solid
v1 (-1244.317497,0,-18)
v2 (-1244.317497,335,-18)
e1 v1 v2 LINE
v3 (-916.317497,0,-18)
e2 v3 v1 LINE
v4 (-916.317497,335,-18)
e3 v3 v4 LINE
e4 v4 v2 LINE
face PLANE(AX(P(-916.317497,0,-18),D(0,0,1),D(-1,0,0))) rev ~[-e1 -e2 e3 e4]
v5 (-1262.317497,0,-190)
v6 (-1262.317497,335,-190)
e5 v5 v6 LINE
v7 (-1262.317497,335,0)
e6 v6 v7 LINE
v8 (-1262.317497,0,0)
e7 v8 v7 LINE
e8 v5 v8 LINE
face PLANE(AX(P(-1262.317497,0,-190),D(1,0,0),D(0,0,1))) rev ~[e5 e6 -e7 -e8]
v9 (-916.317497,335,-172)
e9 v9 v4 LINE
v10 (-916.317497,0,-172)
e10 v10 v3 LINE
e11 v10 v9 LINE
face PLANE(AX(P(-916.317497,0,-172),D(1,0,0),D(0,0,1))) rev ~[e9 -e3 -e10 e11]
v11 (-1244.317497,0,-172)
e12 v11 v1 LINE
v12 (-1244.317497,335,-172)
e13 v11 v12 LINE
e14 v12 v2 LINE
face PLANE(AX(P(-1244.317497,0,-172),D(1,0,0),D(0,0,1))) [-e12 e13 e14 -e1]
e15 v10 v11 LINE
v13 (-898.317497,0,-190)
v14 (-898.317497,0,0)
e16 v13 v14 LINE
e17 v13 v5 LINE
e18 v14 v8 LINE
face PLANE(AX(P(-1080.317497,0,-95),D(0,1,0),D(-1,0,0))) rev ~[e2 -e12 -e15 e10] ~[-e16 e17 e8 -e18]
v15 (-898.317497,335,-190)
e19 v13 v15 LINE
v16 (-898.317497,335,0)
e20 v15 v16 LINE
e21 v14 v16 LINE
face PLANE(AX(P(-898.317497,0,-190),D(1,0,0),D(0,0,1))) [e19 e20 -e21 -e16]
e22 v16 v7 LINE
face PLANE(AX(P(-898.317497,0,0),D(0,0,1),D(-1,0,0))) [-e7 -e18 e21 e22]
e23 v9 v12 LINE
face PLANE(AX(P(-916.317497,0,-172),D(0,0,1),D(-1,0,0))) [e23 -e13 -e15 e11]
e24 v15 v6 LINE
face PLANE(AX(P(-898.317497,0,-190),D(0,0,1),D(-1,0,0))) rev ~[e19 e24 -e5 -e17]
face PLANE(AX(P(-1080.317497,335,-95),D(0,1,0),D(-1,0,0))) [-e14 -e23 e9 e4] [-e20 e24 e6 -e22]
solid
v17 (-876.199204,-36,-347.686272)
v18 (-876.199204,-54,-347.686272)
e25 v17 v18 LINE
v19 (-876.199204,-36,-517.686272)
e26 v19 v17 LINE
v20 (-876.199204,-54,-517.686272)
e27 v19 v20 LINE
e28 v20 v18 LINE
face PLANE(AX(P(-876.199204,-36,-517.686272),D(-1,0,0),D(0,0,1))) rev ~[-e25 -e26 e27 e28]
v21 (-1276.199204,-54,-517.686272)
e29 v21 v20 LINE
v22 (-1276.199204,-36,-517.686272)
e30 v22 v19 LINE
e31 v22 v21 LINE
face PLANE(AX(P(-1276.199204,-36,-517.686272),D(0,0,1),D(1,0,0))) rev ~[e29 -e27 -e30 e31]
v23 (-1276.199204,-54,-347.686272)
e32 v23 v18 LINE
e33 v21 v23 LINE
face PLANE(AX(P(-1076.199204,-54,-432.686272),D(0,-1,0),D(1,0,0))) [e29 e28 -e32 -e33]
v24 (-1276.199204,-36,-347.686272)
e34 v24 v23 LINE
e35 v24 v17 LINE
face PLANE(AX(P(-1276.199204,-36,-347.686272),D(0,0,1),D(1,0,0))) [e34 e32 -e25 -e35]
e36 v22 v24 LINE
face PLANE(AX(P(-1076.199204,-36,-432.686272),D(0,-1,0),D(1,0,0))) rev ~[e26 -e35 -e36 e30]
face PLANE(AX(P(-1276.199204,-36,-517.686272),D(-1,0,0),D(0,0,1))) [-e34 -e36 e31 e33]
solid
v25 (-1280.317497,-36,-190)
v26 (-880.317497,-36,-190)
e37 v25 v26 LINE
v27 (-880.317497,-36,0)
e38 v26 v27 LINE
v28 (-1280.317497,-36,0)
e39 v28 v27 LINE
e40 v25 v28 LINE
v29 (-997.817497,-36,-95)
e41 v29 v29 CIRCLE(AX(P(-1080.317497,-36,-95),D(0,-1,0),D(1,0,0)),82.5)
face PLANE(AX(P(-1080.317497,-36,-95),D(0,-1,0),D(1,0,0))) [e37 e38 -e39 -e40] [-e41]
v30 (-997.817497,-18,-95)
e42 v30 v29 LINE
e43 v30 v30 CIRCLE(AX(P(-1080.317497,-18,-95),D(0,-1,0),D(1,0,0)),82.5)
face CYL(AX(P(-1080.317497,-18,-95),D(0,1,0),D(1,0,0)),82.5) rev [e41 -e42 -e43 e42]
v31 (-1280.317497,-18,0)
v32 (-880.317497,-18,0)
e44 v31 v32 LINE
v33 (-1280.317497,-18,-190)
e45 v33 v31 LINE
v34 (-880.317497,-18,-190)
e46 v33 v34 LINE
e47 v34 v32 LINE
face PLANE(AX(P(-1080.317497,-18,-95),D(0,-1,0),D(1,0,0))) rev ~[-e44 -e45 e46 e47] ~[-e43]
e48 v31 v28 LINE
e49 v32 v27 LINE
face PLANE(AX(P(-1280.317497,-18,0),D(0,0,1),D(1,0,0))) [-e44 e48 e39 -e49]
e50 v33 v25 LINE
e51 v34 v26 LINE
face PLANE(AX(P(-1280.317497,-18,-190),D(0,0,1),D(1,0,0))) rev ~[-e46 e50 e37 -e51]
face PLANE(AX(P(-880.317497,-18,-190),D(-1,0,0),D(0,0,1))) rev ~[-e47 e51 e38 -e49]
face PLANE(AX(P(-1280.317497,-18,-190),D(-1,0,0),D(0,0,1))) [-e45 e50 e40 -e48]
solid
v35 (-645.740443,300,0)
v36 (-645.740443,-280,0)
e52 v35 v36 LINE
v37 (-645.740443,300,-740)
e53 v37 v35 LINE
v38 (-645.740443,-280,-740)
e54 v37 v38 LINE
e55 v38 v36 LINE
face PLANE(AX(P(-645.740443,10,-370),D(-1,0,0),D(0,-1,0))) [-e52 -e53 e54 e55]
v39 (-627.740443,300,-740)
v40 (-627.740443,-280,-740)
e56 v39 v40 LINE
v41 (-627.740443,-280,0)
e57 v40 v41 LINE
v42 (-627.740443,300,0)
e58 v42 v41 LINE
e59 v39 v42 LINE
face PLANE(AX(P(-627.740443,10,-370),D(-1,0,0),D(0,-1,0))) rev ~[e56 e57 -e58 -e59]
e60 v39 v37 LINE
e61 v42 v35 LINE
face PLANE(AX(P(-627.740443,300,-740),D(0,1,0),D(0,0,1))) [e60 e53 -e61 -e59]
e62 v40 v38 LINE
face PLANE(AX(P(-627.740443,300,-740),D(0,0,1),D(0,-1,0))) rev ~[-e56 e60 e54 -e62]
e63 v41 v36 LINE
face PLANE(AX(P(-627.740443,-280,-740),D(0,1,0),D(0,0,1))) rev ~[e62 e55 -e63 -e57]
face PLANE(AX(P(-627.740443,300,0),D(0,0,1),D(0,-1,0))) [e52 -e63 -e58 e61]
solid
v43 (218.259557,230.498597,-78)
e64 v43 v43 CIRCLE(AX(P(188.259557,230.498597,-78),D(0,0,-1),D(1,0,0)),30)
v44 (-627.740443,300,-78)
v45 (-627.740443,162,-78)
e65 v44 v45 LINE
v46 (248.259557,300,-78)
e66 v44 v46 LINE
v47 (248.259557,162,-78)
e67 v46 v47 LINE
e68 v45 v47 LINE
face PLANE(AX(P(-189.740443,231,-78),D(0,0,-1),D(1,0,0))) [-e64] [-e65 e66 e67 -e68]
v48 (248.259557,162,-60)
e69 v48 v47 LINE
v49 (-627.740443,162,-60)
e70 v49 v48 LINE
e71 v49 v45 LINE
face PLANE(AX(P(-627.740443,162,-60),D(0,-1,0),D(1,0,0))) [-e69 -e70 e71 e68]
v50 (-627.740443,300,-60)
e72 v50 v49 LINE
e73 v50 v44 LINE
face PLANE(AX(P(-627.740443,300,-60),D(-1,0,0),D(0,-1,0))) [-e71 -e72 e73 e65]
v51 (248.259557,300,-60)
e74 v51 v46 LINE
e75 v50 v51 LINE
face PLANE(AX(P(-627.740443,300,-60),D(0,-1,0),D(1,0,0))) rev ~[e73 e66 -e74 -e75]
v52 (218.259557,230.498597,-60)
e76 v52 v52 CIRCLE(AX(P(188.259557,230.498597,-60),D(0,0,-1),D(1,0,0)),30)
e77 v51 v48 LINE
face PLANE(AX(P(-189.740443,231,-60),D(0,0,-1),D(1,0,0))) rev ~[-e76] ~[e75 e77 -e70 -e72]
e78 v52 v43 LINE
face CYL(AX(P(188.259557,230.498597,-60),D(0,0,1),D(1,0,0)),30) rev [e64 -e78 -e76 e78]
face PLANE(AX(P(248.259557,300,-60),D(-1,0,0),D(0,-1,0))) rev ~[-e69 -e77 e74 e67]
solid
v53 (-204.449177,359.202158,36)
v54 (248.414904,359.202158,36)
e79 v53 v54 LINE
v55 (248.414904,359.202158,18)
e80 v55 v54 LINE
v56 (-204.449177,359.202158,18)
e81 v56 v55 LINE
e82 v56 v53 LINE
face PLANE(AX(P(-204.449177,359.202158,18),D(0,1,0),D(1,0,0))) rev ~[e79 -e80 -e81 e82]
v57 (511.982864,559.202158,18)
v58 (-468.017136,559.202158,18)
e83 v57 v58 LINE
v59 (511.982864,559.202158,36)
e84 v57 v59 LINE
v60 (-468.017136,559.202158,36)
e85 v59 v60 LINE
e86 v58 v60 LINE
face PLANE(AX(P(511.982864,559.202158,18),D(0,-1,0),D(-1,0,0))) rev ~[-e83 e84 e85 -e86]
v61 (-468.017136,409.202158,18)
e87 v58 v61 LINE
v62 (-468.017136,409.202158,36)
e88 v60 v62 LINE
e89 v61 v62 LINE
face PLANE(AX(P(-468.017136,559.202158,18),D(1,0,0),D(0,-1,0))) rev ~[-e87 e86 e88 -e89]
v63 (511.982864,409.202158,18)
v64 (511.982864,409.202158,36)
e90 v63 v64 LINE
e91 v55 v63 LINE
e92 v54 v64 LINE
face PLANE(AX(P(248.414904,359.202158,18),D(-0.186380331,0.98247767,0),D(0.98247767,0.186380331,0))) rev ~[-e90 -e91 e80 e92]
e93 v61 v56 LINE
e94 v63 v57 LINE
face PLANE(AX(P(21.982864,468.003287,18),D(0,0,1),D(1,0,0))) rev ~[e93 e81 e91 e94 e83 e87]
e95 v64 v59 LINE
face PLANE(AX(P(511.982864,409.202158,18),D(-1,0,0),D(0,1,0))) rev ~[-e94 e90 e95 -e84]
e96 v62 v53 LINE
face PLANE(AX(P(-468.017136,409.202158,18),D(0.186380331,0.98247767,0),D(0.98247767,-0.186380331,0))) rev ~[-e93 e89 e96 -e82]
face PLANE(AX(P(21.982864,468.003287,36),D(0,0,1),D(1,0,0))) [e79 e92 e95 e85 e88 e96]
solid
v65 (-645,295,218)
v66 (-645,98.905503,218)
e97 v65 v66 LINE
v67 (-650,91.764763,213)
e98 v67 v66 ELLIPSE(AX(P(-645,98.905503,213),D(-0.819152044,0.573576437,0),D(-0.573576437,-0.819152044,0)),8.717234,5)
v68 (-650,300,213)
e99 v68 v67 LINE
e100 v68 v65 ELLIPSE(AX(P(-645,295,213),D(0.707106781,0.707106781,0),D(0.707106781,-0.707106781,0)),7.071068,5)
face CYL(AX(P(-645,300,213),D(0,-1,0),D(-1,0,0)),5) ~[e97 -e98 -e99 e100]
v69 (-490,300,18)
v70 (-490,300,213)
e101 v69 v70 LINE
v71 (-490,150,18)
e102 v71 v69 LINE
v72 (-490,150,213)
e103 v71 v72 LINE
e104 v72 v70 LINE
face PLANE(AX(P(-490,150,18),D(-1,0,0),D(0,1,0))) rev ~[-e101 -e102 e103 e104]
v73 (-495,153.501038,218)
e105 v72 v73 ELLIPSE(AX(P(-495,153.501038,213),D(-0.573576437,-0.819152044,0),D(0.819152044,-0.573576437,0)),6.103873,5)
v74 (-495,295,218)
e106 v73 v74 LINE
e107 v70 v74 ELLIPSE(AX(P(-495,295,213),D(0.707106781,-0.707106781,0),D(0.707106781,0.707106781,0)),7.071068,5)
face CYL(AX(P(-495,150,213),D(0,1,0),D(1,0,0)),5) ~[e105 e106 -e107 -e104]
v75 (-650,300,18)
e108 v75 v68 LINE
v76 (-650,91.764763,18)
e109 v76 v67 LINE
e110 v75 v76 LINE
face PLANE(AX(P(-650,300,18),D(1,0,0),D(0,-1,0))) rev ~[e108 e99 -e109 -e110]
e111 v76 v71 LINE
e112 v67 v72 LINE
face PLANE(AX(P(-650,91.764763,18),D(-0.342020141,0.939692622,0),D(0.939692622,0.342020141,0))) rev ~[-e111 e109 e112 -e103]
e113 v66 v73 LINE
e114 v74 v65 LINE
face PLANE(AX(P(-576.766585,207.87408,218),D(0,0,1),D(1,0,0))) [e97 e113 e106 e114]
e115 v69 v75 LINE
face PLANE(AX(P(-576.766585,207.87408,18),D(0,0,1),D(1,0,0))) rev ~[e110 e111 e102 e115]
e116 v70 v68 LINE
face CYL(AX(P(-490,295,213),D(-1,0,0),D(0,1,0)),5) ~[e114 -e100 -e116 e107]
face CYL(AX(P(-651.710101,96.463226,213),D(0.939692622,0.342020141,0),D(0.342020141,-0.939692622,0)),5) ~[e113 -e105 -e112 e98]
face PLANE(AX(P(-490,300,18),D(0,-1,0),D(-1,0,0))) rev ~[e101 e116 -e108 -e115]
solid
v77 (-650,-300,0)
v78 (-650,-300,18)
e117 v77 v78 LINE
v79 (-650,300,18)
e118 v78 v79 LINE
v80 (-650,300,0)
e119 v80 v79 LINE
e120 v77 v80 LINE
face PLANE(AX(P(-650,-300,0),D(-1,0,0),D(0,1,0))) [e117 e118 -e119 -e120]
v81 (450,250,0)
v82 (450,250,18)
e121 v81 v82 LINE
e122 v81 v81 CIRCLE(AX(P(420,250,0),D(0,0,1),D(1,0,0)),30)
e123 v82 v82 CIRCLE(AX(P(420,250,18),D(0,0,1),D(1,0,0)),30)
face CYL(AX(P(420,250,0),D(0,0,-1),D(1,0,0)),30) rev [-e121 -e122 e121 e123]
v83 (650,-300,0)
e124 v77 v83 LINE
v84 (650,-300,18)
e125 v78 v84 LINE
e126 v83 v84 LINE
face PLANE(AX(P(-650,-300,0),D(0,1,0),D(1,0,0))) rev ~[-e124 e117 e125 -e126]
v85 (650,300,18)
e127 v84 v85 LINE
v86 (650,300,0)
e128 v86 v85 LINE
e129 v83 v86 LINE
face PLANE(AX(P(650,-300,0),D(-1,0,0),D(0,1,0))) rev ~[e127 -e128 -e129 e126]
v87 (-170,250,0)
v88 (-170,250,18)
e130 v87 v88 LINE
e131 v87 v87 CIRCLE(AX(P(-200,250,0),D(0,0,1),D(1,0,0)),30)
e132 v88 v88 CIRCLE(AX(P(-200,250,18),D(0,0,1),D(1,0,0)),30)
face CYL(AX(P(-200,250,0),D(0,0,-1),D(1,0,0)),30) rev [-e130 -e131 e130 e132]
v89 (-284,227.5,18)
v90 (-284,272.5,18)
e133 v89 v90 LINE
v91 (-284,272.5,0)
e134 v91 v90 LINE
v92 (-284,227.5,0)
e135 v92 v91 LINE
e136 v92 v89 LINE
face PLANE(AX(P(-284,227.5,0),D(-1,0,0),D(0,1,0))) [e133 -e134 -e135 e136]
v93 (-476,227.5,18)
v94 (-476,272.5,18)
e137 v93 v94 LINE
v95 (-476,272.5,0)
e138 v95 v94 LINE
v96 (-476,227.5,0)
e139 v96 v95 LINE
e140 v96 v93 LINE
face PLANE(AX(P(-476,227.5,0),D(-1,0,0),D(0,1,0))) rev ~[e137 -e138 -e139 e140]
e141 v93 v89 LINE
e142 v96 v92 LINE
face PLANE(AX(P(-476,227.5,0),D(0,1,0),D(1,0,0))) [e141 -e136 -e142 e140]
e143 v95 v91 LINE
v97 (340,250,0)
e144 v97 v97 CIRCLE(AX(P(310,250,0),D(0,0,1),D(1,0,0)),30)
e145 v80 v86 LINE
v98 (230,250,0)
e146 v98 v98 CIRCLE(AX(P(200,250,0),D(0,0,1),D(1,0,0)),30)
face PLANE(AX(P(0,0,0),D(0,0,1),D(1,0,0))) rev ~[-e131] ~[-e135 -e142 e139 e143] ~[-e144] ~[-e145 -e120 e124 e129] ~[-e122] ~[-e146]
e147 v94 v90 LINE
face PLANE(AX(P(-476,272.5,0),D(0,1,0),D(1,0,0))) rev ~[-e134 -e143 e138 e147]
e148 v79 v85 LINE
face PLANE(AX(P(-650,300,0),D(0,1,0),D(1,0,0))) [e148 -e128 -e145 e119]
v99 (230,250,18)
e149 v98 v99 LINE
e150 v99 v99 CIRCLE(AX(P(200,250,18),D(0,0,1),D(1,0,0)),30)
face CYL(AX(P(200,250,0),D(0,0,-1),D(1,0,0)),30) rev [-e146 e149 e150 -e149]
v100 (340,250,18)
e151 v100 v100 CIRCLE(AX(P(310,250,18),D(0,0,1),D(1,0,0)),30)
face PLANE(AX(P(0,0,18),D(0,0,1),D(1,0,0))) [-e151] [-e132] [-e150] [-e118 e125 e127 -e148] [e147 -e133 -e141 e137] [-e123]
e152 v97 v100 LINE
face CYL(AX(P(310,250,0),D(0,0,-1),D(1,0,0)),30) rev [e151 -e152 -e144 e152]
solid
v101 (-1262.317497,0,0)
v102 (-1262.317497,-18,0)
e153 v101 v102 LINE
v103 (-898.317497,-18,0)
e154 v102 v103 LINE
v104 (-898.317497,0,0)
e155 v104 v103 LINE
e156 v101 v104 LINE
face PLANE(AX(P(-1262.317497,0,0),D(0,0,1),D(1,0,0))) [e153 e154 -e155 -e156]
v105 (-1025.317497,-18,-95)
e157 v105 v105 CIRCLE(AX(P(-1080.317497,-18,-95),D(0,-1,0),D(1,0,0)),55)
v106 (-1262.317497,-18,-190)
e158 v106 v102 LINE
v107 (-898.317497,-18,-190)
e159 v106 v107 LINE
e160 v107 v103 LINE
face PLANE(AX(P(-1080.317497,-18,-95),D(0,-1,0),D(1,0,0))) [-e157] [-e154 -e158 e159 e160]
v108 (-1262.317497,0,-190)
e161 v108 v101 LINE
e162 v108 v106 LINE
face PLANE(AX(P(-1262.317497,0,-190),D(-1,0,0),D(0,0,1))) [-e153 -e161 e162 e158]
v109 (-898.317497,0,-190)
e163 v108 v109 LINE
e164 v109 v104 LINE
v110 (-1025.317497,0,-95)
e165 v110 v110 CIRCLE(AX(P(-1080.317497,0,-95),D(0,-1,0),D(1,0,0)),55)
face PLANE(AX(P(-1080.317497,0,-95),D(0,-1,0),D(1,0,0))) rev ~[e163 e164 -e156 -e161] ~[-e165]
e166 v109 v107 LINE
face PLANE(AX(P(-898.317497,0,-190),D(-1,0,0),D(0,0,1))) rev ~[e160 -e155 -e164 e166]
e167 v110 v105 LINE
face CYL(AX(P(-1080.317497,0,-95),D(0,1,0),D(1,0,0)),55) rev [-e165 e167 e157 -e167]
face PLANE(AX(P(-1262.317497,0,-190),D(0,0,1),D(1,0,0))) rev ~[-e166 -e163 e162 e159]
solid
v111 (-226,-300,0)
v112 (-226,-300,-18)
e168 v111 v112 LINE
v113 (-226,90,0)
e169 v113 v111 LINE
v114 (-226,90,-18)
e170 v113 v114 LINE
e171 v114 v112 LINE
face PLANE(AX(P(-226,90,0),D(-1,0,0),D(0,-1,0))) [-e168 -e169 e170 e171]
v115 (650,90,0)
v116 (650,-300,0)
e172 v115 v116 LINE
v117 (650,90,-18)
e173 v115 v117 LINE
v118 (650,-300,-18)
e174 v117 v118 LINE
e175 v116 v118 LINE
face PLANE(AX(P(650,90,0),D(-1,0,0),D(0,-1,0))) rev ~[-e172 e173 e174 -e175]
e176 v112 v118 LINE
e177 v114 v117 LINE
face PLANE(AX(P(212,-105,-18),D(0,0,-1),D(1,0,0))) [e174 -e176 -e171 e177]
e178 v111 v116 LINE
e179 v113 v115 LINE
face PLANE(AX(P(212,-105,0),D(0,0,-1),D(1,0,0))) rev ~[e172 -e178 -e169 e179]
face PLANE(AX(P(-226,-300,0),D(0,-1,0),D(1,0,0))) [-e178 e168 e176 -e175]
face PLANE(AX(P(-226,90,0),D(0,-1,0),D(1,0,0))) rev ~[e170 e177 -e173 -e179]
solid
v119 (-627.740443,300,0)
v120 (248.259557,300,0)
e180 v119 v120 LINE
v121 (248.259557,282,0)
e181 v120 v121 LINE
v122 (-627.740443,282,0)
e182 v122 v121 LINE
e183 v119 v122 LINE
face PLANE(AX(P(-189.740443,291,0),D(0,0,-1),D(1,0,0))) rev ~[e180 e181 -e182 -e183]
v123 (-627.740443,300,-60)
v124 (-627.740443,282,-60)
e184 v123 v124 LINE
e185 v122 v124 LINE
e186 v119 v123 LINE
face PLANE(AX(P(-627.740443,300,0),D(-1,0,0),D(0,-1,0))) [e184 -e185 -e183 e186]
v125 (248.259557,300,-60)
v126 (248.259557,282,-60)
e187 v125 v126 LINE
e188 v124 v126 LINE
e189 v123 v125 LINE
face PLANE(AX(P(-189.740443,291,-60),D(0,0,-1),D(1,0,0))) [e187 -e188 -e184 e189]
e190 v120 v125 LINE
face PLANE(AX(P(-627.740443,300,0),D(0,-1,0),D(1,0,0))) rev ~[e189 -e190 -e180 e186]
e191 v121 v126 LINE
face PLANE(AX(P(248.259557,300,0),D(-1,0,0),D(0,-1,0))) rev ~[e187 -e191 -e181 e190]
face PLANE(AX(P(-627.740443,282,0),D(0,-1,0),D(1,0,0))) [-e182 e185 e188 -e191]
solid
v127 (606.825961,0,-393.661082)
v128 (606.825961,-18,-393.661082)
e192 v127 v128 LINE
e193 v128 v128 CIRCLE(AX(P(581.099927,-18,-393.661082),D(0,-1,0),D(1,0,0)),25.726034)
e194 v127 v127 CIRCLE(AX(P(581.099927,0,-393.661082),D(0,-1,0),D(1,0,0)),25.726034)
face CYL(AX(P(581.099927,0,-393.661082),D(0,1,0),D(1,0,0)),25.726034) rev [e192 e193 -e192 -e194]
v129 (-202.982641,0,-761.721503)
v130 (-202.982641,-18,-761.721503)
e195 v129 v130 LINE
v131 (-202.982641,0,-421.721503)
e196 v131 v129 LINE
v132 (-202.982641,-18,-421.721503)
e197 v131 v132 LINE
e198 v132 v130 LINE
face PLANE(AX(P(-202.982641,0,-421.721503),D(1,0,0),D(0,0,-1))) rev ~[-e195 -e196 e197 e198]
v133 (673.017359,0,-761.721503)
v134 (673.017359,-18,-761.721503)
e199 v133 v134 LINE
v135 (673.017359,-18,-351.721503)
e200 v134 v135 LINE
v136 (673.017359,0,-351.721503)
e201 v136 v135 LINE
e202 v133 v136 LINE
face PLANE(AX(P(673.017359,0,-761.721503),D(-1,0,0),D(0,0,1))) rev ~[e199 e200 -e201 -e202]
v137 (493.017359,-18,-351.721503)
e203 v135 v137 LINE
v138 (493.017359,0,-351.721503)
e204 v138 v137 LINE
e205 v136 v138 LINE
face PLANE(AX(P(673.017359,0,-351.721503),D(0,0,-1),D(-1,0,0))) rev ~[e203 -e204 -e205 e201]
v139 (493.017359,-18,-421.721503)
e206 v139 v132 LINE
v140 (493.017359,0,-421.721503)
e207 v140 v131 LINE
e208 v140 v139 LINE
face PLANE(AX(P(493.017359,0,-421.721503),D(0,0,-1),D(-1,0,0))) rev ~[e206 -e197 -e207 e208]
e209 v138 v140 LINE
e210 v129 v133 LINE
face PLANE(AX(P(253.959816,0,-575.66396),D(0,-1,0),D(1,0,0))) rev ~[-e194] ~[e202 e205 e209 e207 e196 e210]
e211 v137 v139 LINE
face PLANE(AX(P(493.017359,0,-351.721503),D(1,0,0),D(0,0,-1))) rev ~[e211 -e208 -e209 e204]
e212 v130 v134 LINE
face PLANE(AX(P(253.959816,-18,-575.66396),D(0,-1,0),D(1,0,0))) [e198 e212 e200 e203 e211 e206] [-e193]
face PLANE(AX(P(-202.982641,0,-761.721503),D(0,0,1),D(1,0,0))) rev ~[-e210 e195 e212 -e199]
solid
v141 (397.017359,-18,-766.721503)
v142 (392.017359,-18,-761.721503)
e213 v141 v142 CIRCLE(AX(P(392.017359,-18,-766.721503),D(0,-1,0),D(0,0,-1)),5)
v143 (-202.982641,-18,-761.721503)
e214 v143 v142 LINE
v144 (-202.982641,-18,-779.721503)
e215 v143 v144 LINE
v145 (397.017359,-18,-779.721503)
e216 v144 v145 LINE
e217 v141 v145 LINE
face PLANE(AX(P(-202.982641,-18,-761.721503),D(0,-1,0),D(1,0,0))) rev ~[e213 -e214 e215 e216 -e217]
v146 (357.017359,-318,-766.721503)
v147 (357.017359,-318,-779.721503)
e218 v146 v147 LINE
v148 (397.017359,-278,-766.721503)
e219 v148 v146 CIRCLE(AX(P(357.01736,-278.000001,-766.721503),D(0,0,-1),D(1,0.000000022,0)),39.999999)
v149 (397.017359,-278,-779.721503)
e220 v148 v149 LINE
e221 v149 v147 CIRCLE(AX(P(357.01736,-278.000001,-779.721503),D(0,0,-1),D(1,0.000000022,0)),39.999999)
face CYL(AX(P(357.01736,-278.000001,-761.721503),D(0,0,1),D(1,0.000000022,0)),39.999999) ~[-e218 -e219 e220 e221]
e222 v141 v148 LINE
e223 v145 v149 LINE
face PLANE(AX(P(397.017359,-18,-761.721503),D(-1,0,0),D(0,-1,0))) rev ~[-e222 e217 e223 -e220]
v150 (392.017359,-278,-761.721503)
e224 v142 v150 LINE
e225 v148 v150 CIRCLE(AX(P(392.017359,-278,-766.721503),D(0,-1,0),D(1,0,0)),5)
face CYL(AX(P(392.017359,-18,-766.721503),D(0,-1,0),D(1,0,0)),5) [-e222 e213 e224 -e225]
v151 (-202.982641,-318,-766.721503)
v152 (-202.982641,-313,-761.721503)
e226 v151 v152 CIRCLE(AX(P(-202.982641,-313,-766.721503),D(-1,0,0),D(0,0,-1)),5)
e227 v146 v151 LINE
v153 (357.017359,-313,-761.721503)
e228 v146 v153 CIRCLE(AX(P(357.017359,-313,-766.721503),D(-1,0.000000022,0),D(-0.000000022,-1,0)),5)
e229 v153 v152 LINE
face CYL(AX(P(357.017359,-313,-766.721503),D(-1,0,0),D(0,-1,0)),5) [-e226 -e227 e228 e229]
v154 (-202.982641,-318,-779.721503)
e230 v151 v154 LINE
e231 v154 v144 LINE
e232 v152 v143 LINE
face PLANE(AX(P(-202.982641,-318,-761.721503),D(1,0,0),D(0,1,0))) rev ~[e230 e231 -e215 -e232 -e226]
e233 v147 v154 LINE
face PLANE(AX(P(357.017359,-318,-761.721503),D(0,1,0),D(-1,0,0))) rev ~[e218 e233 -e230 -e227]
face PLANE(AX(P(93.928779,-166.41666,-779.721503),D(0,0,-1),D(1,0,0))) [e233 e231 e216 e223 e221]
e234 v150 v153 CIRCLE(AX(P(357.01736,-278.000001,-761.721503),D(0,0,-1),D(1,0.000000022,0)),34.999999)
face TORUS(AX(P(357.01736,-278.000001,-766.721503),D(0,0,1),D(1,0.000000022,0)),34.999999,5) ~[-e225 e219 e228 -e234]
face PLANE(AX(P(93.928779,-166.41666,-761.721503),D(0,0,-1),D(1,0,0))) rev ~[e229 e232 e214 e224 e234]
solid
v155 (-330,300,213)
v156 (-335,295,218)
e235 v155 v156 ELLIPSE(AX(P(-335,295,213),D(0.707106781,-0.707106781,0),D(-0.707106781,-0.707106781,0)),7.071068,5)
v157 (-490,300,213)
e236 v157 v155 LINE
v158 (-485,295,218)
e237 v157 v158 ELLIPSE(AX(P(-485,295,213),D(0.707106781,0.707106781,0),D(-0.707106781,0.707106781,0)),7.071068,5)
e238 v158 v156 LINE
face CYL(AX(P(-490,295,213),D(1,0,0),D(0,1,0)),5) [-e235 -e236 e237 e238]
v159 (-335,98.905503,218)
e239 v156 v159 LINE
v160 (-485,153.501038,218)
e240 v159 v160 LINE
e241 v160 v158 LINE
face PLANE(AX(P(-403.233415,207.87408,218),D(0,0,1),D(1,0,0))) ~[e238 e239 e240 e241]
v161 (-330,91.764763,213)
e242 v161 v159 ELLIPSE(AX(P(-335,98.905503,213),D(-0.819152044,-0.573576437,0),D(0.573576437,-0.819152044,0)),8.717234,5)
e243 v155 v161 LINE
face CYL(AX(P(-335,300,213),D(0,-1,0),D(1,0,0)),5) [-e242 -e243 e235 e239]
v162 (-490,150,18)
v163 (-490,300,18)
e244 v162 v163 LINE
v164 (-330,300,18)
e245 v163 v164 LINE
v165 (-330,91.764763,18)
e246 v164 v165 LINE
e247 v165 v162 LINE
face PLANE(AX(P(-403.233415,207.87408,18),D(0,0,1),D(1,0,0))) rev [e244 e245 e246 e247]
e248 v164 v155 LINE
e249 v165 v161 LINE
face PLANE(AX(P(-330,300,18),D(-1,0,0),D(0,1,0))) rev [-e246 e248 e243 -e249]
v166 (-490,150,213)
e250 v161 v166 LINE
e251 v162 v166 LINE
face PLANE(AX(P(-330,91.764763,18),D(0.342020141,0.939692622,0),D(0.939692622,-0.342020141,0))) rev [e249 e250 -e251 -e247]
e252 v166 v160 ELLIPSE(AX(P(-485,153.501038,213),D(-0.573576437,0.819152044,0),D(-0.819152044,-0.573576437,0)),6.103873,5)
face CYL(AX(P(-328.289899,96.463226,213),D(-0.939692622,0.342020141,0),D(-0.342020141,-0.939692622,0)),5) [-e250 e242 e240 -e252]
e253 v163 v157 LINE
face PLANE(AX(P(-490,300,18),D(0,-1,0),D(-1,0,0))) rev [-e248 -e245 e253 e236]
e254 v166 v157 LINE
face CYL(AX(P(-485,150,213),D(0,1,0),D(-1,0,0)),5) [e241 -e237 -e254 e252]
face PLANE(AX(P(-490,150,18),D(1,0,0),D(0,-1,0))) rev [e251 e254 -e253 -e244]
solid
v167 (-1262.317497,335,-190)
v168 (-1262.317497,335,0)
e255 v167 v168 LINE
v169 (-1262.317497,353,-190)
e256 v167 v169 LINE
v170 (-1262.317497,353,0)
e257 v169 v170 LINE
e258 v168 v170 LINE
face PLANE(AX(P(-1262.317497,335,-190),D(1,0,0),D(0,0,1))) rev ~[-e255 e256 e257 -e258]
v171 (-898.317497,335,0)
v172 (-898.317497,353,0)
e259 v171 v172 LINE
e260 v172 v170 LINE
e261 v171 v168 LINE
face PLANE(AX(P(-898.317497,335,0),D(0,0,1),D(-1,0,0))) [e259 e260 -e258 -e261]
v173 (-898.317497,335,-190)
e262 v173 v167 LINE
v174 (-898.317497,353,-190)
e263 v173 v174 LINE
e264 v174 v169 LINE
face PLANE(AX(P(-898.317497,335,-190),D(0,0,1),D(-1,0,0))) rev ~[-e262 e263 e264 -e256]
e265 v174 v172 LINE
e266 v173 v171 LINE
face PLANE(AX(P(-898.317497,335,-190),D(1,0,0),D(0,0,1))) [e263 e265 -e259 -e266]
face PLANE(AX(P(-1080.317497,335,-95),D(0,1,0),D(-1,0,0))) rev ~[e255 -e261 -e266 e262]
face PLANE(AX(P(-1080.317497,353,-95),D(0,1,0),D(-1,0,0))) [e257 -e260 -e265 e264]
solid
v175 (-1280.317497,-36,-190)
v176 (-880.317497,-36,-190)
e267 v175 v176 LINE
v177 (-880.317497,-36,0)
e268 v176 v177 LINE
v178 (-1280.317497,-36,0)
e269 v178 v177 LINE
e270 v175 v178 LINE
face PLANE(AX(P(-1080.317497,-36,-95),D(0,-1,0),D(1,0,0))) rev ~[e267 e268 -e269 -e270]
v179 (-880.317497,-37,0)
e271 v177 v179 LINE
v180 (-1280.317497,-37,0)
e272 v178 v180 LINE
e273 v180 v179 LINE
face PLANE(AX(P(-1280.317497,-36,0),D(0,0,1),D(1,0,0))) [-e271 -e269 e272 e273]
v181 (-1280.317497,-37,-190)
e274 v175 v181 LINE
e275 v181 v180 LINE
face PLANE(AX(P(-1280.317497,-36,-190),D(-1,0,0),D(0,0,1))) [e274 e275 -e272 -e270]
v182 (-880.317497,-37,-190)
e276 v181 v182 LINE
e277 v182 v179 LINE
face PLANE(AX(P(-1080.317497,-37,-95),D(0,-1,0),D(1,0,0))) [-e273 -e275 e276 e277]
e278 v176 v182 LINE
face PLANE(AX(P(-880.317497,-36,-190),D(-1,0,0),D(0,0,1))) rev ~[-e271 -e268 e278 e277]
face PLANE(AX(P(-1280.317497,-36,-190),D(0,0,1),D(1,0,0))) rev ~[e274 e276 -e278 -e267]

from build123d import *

# Parameters (mm, degrees)
F0_W      = 1300
F0_H      = 600
F0_W_2    = 192
F0_H_2    = 45
F0_R      = 30
F1_DEPTH  = 18
F2_W      = 876
F2_H      = 18
F3_DEPTH  = 60
F4_W      = 876
F4_H      = 138
F4_R      = 30
F5_DEPTH  = 18
F6_W      = 580
F6_H      = 740
F7_DEPTH  = 18
F9_DEPTH  = 200
F10_W     = 364
F10_H     = 190
F10_R     = 55
F11_DEPTH = 18
F12_W     = 364
F12_H     = 190
F12_W_2   = 328
F12_H_2   = 154
F13_DEPTH = 335
F14_W     = 400
F14_H     = 190
F14_R     = 82.5
F15_DEPTH = 18
F16_W     = 364
F16_H     = 190
F17_DEPTH = 18
F18_W     = 876
F18_H     = 390
F19_DEPTH = 18
F20_R     = 25.726034
F21_DEPTH = 18
F23_DEPTH = 18
F24_R     = 5
F25_W     = 400
F25_H     = 170
F26_DEPTH = 18
F27_W     = 400
F27_H     = 190
F28_DEPTH = 1
F30_DEPTH = 18
F31_R     = 5


with BuildPart() as f1:
    # F0 (on Top) → F1 (new body)
    with BuildSketch(Plane.XY):
        Rectangle(F0_W, F0_H)
        with Locations((-380, 250)):
            Rectangle(F0_W_2, F0_H_2, mode=Mode.SUBTRACT)
        with Locations((-200, 250)):
            Circle(F0_R, mode=Mode.SUBTRACT)
        with Locations((200, 250)):
            Circle(F0_R, mode=Mode.SUBTRACT)
        with Locations((310, 250)):
            Circle(F0_R, mode=Mode.SUBTRACT)
        with Locations((420, 250)):
            Circle(F0_R, mode=Mode.SUBTRACT)
    extrude(amount=F1_DEPTH)


with BuildPart() as f3:
    # F2 (on face) → F3 (new body)
    with BuildSketch(Plane(origin=(0, 0, 0), x_dir=(1, 0, 0), z_dir=(0, 0, -1))):
        with Locations((-189.740443, -291)):
            Rectangle(F2_W, F2_H)
    extrude(amount=F3_DEPTH)


with BuildPart() as f5:
    # F4 (on face) → F5 (new body)
    with BuildSketch(Plane(origin=(0, 0, -60), x_dir=(1, 0, 0), z_dir=(0, 0, -1))):
        with Locations((-189.740443, -231)):
            Rectangle(F4_W, F4_H)
        with Locations((188.259557, -230.498597)):
            Circle(F4_R, mode=Mode.SUBTRACT)
    extrude(amount=F5_DEPTH)


with BuildPart() as f7:
    # F6 (on face) → F7 (new body)
    with BuildSketch(Plane(origin=(-627.740443, 0, 0), x_dir=(0, -1, 0), z_dir=(-1, 0, 0))):
        with Locations((-10, -370)):
            Rectangle(F6_W, F6_H)
    extrude(amount=F7_DEPTH)


with BuildPart() as f9:
    # F8 (on face) → F9 (new body)
    with BuildSketch(Plane.XY.offset(18)):
        Polygon((-490, 300), (-650, 300), (-650, 91.764763), (-490, 150), align=None)
    extrude(amount=F9_DEPTH)

    # F31
    f31_edges = [f9.edges().sort_by_distance(p)[0] for p in [
        (-650, 195.882381, 218),
        (-570, 120.882381, 218),
        (-490, 225, 218),
        (-570, 300, 218),
    ]]
    fillet(f31_edges, radius=F31_R)


with BuildPart() as f11:
    # F10 (on Front) → F11 (new body)
    with BuildSketch(Plane.XZ):
        with Locations((-1080.317497, -95)):
            Rectangle(F10_W, F10_H)
        with Locations((-1080.317497, -95)):
            Circle(F10_R, mode=Mode.SUBTRACT)
    extrude(amount=F11_DEPTH)


with BuildPart() as f13:
    # F12 (on face) → F13 (new body)
    with BuildSketch(Plane(origin=(0, 0, 0), x_dir=(-1, 0, 0), z_dir=(0, 1, 0))):
        with Locations((1080.317497, -95)):
            Rectangle(F12_W, F12_H)
        with Locations((1080.317497, -95)):
            Rectangle(F12_W_2, F12_H_2, mode=Mode.SUBTRACT)
    extrude(amount=F13_DEPTH)


with BuildPart() as f15:
    # F14 (on face) → F15 (new body)
    with BuildSketch(Plane.XZ.offset(18)):
        with Locations((-1080.317497, -95)):
            Rectangle(F14_W, F14_H)
        with Locations((-1080.317497, -95)):
            Circle(F14_R, mode=Mode.SUBTRACT)
    extrude(amount=F15_DEPTH)


with BuildPart() as f17:
    # F16 (on face) → F17 (new body)
    with BuildSketch(Plane(origin=(0, 335, 0), x_dir=(-1, 0, 0), z_dir=(0, 1, 0))):
        with Locations((1080.317497, -95)):
            Rectangle(F16_W, F16_H)
    extrude(amount=F17_DEPTH)


with BuildPart() as f19:
    # F18 (on face) → F19 (new body)
    with BuildSketch(Plane(origin=(0, 0, 0), x_dir=(1, 0, 0), z_dir=(0, 0, -1))):
        with Locations((212, 105)):
            Rectangle(F18_W, F18_H)
    extrude(amount=F19_DEPTH)


with BuildPart() as f21:
    # F20 (on Front) → F21 (new body)
    with BuildSketch(Plane.XZ):
        Polygon((-202.982641, -761.721503), (673.017359, -761.721503), (673.017359, -351.721503), (493.017359, -351.721503), (493.017359, -421.721503), (-202.982641, -421.721503), align=None)
        with Locations((581.099927, -393.661082)):
            Circle(F20_R, mode=Mode.SUBTRACT)
    extrude(amount=F21_DEPTH)


with BuildPart() as f23:
    # F22 (on face) → F23 (new body)
    with BuildSketch(Plane(origin=(0, 0, -761.721503), x_dir=(1, 0, 0), z_dir=(0, 0, -1))):
        with BuildLine():
            Line((-202.982641, 318), (-202.982641, 18))
            Line((-202.982641, 18), (397.017359, 18))
            Line((397.017359, 18), (397.017359, 278))
            ThreePointArc((397.017359, 278), (385.301631, 306.284271), (357.017359, 318))
            Line((357.017359, 318), (-202.982641, 318))
        make_face()
    extrude(amount=F23_DEPTH)

    # F24
    f24_edges = [f23.edges().sort_by_distance(p)[0] for p in [
        (77.017359, -318, -761.721503),
        (385.301631, -306.284271, -761.721503),
        (397.017359, -148, -761.721503),
    ]]
    fillet(f24_edges, radius=F24_R)


with BuildPart() as f26:
    # F25 (on face) → F26 (new body)
    with BuildSketch(Plane.XZ.offset(36)):
        with Locations((-1076.199204, -432.686272)):
            Rectangle(F25_W, F25_H)
    extrude(amount=F26_DEPTH)


with BuildPart() as f28:
    # F27 (on face) → F28 (new body)
    with BuildSketch(Plane.XZ.offset(36)):
        with Locations((-1080.317497, -95)):
            Rectangle(F27_W, F27_H)
    extrude(amount=F28_DEPTH)


with BuildPart() as f30:
    # F29 (on face) → F30 (new body)
    with BuildSketch(Plane.XY.offset(18)):
        Polygon((511.982864, 559.202158), (-468.017136, 559.202158), (-468.017136, 409.202158), (-204.449177, 359.202158), (248.414904, 359.202158), (511.982864, 409.202158), align=None)
    extrude(amount=F30_DEPTH)


with BuildPart() as f32_1:
    # F32: instance of F9
    add(f9.part.mirror(Plane(origin=(-490, 225, 115.5), x_dir=(0, 1, 0), z_dir=(1, 0, 0))))


solid = Compound([f1.part, f3.part, f5.part, f7.part, f9.part, f11.part, f13.part, f15.part, f17.part, f19.part, f21.part, f23.part, f26.part, f28.part, f30.part, f32_1.part])
